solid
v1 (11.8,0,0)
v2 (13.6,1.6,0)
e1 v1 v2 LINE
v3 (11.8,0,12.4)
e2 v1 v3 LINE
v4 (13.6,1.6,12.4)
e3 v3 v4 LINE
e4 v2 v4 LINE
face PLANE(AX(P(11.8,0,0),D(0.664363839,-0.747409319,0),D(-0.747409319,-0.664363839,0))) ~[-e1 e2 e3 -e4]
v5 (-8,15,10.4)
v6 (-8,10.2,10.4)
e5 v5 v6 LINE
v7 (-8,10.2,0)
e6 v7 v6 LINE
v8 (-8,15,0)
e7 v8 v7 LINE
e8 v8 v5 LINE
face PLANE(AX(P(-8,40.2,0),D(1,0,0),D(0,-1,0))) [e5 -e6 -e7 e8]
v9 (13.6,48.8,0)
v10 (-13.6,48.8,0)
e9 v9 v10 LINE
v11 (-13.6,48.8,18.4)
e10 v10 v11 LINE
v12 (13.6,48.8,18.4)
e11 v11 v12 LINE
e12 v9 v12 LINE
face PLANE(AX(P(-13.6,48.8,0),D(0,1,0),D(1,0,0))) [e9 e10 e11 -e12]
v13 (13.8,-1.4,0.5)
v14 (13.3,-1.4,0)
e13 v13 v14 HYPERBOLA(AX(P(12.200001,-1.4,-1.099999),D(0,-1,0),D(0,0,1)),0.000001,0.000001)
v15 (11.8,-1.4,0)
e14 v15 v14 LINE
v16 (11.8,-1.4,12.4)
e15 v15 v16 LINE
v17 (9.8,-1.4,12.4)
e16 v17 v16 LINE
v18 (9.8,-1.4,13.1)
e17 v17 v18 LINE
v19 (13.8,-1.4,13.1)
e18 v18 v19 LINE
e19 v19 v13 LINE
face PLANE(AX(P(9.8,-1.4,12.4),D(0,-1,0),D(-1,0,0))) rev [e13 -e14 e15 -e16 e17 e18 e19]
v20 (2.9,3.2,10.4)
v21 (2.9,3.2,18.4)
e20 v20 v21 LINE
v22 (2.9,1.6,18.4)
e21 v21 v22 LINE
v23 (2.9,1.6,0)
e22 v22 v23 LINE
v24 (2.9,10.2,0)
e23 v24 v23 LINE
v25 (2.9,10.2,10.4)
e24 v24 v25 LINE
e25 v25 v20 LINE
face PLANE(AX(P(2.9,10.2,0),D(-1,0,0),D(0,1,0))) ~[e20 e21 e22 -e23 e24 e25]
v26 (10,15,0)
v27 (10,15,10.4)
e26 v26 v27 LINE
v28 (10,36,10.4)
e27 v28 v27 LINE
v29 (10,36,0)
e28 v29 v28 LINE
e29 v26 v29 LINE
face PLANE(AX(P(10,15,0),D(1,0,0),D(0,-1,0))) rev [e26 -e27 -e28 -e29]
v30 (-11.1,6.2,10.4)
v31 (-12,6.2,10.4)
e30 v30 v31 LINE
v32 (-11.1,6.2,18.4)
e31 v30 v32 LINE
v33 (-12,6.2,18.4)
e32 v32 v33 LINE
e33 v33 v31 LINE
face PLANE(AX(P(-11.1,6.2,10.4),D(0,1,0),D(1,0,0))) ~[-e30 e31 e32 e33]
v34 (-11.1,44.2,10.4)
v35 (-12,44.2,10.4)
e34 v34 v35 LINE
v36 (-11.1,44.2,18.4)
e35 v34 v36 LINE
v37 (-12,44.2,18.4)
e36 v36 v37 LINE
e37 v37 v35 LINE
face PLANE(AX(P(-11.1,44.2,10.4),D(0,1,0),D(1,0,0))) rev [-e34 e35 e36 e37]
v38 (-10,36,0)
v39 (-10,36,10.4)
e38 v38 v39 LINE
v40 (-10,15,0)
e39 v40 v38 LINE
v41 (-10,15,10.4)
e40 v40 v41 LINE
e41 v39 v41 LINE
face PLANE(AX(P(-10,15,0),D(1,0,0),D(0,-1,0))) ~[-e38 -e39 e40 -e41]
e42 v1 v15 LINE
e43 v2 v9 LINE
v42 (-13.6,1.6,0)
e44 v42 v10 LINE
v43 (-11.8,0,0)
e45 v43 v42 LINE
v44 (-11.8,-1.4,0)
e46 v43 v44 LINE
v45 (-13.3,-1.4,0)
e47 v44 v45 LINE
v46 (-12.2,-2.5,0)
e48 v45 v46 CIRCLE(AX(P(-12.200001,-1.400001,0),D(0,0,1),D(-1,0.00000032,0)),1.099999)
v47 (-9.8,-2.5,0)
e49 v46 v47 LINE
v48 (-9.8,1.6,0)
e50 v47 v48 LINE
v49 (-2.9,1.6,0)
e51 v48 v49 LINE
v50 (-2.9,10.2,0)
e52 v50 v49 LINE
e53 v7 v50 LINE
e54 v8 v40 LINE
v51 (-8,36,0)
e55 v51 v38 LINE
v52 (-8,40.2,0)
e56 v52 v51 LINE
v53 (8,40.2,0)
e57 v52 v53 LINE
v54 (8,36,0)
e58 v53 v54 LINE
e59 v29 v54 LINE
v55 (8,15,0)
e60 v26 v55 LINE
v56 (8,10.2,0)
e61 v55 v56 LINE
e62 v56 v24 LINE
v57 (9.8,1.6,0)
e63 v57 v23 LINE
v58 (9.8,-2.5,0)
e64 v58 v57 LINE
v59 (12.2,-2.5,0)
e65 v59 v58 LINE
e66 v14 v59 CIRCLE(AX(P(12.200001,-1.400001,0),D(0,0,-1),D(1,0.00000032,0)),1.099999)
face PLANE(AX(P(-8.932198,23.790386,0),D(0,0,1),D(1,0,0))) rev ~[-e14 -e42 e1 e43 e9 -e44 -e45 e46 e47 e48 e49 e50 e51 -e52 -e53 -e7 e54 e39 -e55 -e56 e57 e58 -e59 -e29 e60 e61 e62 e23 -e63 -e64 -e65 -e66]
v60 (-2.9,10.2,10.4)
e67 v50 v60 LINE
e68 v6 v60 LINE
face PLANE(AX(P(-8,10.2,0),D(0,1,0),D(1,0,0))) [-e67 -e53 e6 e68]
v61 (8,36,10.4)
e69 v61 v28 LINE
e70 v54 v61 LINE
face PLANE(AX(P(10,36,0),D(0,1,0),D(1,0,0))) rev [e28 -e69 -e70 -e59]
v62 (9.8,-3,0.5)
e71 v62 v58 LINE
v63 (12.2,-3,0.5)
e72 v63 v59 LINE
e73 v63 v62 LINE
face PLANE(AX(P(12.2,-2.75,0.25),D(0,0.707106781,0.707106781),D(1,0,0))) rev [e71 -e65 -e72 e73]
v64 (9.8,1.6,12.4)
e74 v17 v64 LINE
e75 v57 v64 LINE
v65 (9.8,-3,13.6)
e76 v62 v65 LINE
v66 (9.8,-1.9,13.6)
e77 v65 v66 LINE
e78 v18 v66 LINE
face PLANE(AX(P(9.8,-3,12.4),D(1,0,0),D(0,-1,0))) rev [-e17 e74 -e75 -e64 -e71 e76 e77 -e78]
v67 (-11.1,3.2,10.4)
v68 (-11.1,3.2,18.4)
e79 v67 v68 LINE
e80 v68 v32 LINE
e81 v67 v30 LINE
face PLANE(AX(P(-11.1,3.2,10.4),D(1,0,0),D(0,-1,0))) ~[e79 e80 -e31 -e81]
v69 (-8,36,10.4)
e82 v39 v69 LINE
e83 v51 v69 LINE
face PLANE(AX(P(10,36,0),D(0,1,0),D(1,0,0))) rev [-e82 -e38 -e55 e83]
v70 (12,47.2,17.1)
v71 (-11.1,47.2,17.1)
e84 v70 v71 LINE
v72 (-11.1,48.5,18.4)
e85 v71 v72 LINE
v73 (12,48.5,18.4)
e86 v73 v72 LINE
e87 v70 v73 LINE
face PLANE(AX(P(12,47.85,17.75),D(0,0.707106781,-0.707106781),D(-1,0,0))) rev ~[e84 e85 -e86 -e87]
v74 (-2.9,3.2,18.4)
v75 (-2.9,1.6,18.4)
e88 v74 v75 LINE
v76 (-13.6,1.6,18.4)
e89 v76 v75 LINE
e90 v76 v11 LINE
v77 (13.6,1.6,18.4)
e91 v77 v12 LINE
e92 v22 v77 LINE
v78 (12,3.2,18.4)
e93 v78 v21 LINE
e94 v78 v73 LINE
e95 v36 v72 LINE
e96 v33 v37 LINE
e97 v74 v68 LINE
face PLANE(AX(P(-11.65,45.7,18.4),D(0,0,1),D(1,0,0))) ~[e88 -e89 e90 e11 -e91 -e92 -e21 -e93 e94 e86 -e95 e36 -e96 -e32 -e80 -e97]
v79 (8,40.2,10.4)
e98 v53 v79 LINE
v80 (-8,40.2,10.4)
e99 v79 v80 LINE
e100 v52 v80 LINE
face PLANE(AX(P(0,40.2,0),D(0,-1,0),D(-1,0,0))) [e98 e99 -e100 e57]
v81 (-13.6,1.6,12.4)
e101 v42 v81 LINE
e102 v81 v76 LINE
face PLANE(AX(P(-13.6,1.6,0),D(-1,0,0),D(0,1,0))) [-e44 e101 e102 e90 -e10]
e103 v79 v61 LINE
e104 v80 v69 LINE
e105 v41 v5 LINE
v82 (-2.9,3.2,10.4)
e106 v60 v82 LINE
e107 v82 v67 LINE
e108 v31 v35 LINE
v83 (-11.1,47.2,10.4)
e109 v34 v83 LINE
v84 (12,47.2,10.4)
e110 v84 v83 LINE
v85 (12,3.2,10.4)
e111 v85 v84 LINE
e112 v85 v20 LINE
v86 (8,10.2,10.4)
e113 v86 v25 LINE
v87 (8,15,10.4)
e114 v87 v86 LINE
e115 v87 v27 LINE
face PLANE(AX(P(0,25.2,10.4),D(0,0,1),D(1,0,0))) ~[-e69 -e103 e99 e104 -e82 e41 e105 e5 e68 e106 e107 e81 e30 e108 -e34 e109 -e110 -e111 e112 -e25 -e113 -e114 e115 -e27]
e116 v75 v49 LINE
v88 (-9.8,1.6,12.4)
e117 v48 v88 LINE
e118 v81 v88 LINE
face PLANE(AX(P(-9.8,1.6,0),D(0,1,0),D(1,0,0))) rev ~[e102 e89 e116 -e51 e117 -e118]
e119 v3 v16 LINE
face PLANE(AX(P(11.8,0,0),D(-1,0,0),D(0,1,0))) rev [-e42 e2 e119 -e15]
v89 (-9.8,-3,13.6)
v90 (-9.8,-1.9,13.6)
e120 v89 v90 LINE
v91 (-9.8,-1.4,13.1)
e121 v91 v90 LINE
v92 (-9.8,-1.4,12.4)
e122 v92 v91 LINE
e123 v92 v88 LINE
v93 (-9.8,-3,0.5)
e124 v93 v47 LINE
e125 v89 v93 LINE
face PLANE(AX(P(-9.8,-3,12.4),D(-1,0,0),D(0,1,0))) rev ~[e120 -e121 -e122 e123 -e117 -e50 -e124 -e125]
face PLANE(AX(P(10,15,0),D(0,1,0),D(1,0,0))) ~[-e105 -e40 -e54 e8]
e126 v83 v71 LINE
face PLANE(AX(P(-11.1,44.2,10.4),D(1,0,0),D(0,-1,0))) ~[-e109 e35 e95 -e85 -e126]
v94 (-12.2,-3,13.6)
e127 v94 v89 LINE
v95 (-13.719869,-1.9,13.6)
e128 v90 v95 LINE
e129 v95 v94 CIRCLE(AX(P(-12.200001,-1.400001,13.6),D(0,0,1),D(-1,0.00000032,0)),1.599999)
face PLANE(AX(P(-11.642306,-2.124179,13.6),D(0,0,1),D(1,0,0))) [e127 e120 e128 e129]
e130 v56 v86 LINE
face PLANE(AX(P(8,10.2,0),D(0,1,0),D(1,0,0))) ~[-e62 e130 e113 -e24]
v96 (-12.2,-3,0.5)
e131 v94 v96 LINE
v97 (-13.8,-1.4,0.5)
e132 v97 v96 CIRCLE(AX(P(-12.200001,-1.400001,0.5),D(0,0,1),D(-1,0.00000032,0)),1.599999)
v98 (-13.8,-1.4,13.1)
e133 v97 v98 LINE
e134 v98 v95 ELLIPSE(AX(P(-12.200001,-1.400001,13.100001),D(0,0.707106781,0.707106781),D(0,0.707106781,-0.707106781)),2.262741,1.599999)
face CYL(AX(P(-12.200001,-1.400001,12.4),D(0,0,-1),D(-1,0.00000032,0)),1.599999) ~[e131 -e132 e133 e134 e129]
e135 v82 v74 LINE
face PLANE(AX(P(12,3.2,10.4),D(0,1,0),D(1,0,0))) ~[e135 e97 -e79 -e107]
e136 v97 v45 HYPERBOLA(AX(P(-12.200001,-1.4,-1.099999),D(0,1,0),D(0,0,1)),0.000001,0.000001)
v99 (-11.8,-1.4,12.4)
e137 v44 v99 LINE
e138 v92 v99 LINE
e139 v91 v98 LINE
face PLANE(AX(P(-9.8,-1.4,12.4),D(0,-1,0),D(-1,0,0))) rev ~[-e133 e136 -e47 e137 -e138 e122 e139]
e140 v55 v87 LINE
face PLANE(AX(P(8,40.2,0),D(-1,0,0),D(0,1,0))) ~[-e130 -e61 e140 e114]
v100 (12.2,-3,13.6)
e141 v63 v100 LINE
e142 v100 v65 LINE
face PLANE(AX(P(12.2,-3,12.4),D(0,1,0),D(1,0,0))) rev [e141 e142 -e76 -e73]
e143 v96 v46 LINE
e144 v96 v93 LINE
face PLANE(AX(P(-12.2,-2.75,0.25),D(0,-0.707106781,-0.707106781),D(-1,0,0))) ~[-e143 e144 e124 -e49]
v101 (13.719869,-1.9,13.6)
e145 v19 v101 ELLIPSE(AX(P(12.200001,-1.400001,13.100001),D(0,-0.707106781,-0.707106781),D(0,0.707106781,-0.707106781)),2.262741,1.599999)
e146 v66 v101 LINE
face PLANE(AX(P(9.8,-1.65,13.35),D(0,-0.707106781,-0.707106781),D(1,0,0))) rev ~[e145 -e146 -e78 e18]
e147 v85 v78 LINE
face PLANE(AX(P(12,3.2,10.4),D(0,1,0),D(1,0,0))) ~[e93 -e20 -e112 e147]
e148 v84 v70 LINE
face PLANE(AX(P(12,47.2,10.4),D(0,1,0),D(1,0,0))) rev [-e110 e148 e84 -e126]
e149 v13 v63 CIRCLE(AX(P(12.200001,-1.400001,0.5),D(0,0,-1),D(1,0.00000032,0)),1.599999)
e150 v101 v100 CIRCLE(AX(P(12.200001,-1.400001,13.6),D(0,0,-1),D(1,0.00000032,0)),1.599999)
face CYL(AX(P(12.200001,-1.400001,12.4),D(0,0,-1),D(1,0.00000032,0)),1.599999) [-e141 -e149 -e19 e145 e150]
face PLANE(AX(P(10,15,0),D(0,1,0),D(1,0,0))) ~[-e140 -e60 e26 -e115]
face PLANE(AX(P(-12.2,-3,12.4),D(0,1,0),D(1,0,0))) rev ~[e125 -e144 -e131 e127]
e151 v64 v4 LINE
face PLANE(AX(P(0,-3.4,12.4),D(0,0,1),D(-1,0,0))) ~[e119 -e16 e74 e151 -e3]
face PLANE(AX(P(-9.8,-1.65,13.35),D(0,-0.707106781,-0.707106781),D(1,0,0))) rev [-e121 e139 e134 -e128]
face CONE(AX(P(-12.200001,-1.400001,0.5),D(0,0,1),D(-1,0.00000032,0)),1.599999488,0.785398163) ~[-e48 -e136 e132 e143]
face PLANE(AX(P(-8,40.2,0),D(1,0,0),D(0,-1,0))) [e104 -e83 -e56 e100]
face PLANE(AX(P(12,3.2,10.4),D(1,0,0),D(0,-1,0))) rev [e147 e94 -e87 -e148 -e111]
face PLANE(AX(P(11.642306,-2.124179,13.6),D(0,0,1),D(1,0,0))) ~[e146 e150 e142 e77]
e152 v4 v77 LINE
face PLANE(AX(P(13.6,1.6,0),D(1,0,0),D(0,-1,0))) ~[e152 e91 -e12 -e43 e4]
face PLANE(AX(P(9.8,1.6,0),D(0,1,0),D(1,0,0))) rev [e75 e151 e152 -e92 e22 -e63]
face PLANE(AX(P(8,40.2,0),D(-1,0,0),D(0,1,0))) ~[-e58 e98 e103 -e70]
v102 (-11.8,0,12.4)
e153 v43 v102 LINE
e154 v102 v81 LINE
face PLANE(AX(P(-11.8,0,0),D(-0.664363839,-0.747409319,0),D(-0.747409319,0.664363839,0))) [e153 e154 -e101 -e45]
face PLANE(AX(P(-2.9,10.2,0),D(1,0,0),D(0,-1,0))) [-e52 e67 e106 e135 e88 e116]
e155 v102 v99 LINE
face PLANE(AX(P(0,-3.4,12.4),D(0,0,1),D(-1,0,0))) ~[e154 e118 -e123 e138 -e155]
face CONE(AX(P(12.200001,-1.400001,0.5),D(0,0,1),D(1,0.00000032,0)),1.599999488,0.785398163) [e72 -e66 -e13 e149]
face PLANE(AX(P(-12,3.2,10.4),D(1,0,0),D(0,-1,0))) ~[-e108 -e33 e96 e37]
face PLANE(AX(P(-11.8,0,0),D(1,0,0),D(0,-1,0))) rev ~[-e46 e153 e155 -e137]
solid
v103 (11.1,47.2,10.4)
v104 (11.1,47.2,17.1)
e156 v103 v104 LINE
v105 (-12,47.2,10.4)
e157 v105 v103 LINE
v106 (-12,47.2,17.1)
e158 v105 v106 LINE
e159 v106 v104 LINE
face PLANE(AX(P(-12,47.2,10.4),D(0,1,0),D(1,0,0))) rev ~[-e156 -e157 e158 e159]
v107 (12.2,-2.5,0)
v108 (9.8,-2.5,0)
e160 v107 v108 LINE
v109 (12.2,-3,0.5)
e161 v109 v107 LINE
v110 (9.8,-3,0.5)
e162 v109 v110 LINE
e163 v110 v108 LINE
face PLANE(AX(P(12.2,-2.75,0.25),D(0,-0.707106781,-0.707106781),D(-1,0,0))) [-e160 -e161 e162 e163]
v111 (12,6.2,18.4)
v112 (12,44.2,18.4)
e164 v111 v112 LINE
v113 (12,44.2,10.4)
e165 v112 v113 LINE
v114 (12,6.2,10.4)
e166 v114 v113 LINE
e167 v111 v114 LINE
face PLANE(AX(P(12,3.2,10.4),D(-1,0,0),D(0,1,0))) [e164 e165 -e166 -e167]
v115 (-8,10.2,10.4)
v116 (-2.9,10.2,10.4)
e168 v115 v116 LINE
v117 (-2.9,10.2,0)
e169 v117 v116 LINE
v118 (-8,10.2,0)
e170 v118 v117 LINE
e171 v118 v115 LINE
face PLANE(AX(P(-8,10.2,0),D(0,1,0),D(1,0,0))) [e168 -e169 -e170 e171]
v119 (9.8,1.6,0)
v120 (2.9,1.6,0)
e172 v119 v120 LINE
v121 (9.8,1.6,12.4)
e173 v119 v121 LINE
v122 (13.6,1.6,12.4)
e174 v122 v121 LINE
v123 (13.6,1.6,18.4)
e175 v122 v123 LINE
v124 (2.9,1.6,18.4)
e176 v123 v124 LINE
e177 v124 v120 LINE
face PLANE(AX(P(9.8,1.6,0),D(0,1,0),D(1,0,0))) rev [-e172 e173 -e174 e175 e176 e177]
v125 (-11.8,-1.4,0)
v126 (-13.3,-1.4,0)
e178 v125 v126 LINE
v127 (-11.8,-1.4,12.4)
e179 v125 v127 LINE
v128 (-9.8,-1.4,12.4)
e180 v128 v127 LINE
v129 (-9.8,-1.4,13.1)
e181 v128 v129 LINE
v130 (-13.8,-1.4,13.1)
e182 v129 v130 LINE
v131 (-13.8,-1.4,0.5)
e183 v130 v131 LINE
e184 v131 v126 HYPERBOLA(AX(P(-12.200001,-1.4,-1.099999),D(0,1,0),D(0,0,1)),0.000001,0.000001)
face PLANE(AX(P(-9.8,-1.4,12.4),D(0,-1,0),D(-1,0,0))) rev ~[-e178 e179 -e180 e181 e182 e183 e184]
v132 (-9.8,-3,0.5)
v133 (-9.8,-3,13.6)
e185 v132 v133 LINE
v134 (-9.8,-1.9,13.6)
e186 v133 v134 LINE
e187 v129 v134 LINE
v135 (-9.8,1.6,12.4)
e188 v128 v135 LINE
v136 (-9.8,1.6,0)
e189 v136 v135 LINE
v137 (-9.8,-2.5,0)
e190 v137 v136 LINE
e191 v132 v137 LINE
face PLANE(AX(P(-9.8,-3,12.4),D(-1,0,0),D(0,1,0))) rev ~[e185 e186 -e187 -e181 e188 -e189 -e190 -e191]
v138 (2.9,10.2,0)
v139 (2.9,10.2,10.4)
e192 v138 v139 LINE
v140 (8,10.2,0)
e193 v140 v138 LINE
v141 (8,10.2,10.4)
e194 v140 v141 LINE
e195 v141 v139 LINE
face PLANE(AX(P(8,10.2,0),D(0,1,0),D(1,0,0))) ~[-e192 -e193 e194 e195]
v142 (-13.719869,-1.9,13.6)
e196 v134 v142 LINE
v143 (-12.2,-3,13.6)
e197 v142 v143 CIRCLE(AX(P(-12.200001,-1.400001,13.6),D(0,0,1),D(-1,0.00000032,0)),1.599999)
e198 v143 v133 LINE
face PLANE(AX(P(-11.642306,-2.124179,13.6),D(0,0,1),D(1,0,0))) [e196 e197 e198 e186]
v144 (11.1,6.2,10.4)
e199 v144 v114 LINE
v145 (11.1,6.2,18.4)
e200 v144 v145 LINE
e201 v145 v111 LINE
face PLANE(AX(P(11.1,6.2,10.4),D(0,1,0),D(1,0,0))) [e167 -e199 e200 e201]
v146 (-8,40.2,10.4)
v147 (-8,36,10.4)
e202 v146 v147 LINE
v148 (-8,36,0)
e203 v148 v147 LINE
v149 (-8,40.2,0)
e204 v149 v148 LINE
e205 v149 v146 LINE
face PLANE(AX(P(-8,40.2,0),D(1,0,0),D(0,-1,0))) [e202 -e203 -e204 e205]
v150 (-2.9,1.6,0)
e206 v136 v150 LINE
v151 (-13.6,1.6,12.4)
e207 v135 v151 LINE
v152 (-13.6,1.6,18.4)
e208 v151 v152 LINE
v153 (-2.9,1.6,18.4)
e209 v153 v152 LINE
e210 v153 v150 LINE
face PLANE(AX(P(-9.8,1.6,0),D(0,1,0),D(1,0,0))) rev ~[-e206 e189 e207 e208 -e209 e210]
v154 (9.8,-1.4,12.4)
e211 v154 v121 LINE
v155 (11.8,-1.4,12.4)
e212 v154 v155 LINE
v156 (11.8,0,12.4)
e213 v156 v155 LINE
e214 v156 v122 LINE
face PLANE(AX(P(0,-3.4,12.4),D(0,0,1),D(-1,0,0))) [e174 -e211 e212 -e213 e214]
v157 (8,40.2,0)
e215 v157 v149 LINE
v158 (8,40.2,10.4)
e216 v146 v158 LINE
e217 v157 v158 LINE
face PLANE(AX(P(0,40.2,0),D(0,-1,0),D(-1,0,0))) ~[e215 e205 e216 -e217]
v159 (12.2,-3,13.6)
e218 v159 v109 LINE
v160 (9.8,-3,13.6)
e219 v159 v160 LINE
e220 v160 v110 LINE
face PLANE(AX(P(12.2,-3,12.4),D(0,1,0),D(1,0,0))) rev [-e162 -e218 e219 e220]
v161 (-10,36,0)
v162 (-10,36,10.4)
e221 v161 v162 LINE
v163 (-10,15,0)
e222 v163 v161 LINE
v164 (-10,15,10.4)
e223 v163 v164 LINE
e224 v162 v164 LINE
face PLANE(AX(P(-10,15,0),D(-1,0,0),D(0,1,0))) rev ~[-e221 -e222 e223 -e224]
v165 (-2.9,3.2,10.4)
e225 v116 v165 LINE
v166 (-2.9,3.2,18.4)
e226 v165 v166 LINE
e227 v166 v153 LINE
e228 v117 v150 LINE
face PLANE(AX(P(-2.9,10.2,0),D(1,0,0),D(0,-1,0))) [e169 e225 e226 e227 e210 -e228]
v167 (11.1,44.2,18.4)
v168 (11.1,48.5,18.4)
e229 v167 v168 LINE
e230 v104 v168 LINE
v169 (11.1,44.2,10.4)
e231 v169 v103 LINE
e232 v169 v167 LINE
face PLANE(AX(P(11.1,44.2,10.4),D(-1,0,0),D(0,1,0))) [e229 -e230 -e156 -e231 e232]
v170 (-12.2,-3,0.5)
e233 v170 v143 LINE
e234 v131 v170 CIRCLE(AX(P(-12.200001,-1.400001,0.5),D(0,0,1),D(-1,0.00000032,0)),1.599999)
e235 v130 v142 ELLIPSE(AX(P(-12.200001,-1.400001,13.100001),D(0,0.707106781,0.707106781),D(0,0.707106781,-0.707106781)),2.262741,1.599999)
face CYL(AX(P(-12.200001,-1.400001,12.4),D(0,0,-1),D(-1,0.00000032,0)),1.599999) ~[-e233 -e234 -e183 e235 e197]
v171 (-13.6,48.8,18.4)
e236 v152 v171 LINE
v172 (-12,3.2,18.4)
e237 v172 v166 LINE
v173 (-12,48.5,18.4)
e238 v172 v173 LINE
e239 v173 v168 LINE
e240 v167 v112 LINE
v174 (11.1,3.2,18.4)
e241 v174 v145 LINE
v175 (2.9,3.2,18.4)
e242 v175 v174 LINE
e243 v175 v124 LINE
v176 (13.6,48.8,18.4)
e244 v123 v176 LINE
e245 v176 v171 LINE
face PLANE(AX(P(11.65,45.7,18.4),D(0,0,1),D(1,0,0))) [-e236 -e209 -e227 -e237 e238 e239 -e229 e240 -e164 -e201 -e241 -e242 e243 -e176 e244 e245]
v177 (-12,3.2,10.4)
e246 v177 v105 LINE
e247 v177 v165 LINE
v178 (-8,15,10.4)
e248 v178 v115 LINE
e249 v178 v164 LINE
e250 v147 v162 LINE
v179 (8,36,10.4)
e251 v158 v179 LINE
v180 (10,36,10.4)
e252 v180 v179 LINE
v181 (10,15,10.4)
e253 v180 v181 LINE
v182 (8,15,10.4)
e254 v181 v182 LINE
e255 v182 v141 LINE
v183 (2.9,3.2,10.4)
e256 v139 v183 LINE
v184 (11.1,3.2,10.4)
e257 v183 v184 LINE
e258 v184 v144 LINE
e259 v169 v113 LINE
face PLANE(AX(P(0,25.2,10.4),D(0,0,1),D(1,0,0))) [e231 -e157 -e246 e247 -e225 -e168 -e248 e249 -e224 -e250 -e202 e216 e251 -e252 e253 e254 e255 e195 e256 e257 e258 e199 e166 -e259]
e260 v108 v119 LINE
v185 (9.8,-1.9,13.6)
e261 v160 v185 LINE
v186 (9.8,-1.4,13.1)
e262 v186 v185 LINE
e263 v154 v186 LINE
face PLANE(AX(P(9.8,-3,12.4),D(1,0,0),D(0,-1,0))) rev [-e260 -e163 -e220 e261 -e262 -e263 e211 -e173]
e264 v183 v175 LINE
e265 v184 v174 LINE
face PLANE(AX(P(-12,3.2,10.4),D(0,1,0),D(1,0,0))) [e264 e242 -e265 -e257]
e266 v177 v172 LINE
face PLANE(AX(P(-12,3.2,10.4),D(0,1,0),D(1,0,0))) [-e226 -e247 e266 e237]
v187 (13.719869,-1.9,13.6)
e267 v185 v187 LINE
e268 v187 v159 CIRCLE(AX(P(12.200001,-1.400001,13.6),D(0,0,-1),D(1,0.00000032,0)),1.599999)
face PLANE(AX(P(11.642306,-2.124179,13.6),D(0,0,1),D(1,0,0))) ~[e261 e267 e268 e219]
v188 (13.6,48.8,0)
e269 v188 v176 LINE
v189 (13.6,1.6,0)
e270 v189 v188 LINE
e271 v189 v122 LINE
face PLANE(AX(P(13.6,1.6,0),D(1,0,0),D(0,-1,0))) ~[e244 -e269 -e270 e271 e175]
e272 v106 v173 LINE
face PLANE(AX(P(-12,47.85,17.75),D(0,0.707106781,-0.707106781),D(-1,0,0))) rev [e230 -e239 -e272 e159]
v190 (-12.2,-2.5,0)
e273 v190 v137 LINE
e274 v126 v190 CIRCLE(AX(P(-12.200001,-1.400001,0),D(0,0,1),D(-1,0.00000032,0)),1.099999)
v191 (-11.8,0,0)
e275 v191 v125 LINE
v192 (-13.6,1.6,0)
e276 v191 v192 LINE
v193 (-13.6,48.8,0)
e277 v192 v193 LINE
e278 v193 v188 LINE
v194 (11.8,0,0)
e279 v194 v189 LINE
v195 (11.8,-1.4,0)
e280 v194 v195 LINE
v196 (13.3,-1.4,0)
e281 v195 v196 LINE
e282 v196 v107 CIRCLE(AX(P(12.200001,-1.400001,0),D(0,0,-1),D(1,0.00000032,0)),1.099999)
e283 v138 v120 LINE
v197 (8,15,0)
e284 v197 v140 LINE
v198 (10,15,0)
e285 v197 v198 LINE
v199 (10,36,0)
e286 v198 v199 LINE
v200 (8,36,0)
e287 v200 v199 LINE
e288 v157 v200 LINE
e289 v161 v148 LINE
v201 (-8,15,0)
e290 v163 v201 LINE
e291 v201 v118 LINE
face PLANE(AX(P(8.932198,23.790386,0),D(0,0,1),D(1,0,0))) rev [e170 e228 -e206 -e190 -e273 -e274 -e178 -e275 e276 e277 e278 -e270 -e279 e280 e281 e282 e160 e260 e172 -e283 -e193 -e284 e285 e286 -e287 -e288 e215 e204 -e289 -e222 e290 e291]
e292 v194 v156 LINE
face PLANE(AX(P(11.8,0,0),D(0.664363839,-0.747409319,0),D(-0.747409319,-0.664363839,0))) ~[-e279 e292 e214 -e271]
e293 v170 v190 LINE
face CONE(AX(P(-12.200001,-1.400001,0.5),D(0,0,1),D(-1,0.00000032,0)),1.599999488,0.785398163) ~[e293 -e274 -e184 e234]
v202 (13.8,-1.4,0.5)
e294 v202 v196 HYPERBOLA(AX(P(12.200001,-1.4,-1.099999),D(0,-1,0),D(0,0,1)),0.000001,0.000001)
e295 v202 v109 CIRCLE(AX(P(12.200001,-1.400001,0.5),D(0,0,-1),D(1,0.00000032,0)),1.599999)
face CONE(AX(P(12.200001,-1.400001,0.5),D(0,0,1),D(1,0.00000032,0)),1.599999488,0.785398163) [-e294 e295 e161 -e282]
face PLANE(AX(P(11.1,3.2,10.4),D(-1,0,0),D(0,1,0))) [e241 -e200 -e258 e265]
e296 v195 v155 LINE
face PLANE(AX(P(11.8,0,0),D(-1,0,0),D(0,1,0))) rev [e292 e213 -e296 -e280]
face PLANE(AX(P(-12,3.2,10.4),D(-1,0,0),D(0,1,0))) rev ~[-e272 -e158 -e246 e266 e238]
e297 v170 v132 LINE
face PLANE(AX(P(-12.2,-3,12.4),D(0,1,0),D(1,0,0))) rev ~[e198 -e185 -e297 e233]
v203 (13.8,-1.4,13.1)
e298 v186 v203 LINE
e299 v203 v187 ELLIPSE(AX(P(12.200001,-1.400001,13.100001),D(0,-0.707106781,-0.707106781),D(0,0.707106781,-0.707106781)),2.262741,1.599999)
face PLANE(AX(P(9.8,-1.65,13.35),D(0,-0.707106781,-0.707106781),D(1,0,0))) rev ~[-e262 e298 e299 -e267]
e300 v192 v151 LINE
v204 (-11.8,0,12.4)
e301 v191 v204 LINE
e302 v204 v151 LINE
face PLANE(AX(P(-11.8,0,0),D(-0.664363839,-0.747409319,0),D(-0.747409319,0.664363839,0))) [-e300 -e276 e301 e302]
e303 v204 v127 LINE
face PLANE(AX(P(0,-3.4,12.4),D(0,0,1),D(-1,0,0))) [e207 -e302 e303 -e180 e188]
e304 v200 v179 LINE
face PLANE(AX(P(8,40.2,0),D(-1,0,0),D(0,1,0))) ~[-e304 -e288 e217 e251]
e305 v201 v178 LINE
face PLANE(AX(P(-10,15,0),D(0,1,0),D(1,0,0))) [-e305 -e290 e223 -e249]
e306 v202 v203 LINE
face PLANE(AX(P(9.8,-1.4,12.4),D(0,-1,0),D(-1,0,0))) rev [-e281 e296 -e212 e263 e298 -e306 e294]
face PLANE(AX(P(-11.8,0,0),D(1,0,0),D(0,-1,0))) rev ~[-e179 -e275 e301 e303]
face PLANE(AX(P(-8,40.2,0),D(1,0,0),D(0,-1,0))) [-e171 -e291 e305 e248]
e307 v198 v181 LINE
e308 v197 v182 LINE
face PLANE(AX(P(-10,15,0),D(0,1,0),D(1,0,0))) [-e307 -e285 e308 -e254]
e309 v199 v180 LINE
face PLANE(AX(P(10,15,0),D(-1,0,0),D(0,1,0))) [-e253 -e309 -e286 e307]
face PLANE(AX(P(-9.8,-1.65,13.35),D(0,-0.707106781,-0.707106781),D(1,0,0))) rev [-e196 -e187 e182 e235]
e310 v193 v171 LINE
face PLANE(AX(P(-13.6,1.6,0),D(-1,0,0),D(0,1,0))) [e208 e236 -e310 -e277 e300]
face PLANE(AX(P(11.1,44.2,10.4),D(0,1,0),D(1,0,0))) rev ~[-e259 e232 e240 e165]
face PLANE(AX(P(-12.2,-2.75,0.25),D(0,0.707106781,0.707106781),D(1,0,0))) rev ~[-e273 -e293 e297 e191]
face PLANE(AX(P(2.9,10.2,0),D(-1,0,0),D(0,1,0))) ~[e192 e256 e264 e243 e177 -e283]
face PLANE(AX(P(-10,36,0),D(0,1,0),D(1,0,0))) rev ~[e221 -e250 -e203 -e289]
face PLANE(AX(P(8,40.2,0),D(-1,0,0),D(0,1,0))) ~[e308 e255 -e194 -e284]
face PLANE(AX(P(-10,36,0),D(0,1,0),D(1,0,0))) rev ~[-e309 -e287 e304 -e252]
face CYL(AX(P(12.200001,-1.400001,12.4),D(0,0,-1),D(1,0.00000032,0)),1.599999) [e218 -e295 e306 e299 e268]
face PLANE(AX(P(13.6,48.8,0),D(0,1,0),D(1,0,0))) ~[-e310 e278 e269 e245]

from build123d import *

# Parameters (mm, degrees)
PAD_DEPTH       = 18.4
BOX_W           = 100
BOX_H           = 10
BOX_DEPTH       = 10
BOX001_W        = 24
BOX001_H        = 44
BOX001_DEPTH    = 100
BOX002_W        = 20
BOX002_H        = 21
BOX002_DEPTH    = 100
PAD001_DEPTH    = 1.2
BOX003_W        = 1.1
BOX003_H        = 3
BOX003_DEPTH    = 8
BOX004_W        = 1.1
BOX004_H        = 3
BOX004_DEPTH    = 8
CHAMFER_SIZE    = 1.3
CHAMFER001_SIZE = 0.5
CHAMFER002_SIZE = 0.5


with BuildPart() as body:
    # Sketch → Pad (new body)
    with BuildSketch(Plane.XY):
        with BuildLine():
            Line((-11.8, 0), (-11.8, -1.4))
            Line((-11.8, -1.4), (-13.8, -1.4))
            ThreePointArc((-13.8, -1.4), (-13.331371, -2.531371), (-12.2, -3))
            Line((-12.2, -3), (-9.8, -3))
            Line((-9.8, -3), (-9.8, 1.6))
            Line((-9.8, 1.6), (-2.9, 1.6))
            Line((-2.9, 10.2), (-2.9, 1.6))
            Line((-8, 10.2), (-2.9, 10.2))
            Line((-8, 40.2), (-8, 10.2))
            Line((0, 40.2), (-8, 40.2))
            Line((0, 48.8), (0, 40.2))
            Line((-13.6, 48.8), (0, 48.8))
            Line((-13.6, 1.6), (-13.6, 48.8))
            Line((-11.8, 0), (-13.6, 1.6))
        make_face()
    pad = extrude(amount=PAD_DEPTH)

    # Mirrored: Pad across Sketch V_Axis
    add(pad.mirror(Plane(origin=(0, 0, 0), x_dir=(0, 0, 1), z_dir=(1, 0, 0))))

    # Box → Box (cut)
    with BuildSketch(Plane(origin=(50, 1.6, 12.4), x_dir=(-1, 0, 0), z_dir=(0, 0, 1))):
        with Locations((50, 5)):
            Rectangle(BOX_W, BOX_H)
    extrude(amount=BOX_DEPTH, mode=Mode.SUBTRACT)

    # Box001 → Box001 (cut)
    with BuildSketch(Plane(origin=(-12, 3.2, 10.4), x_dir=(1, 0, 0), z_dir=(0, 0, 1))):
        with Locations((12, 22)):
            Rectangle(BOX001_W, BOX001_H)
    extrude(amount=BOX001_DEPTH, mode=Mode.SUBTRACT)

    # Box002 → Box002 (cut)
    with BuildSketch(Plane(origin=(-10, 15, 0), x_dir=(1, 0, 0), z_dir=(0, 0, 1))):
        with Locations((10, 10.5)):
            Rectangle(BOX002_W, BOX002_H)
    extrude(amount=BOX002_DEPTH, mode=Mode.SUBTRACT)

    # Sketch001 → Pad001 (join)
    with BuildSketch(Plane.XY.offset(12.4)):
        with BuildLine():
            Line((-11.8, -1.4), (-13.8, -1.4))
            ThreePointArc((-13.8, -1.4), (-13.331371, -2.531371), (-12.2, -3))
            Line((-12.2, -3), (-9.8, -3))
            Line((-9.8, -3), (-9.8, -1.4))
            Line((-9.8, -1.4), (-11.8, -1.4))
        make_face()
    pad001 = extrude(amount=PAD001_DEPTH)

    # Mirrored001: Pad001 across Sketch001 V_Axis
    add(pad001.mirror(Plane(origin=(0, 0, 12.4), x_dir=(0, 0, 1), z_dir=(1, 0, 0))))

    # Box003 → Box003 (join)
    with BuildSketch(Plane(origin=(11.1, 3.2, 10.4), x_dir=(1, 0, 0), z_dir=(0, 0, 1))):
        with Locations((0.55, 1.5)):
            Rectangle(BOX003_W, BOX003_H)
    extrude(amount=BOX003_DEPTH)

    # Box004 → Box004 (join)
    with BuildSketch(Plane(origin=(11.1, 44.2, 10.4), x_dir=(1, 0, 0), z_dir=(0, 0, 1))):
        with Locations((0.55, 1.5)):
            Rectangle(BOX004_W, BOX004_H)
    extrude(amount=BOX004_DEPTH)

    # Chamfer
    chamfer_edges = [body.edges().sort_by_distance(p)[0] for p in [
        (-6, 47.2, 18.4),
        (5.55, 47.2, 18.4),
    ]]
    chamfer(chamfer_edges, length=CHAMFER_SIZE)

    # Chamfer001
    chamfer001_edges = [body.edges().sort_by_distance(p)[0] for p in [
        (-11, -3, 0),
        (11, -3, 0),
    ]]
    chamfer(chamfer001_edges, length=CHAMFER001_SIZE)

    # Chamfer002
    chamfer002_edges = [body.edges().sort_by_distance(p)[0] for p in [
        (10.8, -1.4, 13.6),
        (-10.8, -1.4, 13.6),
    ]]
    chamfer(chamfer002_edges, length=CHAMFER002_SIZE)


with BuildPart() as hub_bottom:
    # Body001 base: copy of Body
    add(body.part)


with BuildPart() as hub_top:
    # Mirror: instance of Body
    add(body.part.mirror(Plane(origin=(0, 0, 0), x_dir=(0, -1, 0), z_dir=(1, 0, 0))))


solid = Compound([hub_bottom.part, hub_top.part])
